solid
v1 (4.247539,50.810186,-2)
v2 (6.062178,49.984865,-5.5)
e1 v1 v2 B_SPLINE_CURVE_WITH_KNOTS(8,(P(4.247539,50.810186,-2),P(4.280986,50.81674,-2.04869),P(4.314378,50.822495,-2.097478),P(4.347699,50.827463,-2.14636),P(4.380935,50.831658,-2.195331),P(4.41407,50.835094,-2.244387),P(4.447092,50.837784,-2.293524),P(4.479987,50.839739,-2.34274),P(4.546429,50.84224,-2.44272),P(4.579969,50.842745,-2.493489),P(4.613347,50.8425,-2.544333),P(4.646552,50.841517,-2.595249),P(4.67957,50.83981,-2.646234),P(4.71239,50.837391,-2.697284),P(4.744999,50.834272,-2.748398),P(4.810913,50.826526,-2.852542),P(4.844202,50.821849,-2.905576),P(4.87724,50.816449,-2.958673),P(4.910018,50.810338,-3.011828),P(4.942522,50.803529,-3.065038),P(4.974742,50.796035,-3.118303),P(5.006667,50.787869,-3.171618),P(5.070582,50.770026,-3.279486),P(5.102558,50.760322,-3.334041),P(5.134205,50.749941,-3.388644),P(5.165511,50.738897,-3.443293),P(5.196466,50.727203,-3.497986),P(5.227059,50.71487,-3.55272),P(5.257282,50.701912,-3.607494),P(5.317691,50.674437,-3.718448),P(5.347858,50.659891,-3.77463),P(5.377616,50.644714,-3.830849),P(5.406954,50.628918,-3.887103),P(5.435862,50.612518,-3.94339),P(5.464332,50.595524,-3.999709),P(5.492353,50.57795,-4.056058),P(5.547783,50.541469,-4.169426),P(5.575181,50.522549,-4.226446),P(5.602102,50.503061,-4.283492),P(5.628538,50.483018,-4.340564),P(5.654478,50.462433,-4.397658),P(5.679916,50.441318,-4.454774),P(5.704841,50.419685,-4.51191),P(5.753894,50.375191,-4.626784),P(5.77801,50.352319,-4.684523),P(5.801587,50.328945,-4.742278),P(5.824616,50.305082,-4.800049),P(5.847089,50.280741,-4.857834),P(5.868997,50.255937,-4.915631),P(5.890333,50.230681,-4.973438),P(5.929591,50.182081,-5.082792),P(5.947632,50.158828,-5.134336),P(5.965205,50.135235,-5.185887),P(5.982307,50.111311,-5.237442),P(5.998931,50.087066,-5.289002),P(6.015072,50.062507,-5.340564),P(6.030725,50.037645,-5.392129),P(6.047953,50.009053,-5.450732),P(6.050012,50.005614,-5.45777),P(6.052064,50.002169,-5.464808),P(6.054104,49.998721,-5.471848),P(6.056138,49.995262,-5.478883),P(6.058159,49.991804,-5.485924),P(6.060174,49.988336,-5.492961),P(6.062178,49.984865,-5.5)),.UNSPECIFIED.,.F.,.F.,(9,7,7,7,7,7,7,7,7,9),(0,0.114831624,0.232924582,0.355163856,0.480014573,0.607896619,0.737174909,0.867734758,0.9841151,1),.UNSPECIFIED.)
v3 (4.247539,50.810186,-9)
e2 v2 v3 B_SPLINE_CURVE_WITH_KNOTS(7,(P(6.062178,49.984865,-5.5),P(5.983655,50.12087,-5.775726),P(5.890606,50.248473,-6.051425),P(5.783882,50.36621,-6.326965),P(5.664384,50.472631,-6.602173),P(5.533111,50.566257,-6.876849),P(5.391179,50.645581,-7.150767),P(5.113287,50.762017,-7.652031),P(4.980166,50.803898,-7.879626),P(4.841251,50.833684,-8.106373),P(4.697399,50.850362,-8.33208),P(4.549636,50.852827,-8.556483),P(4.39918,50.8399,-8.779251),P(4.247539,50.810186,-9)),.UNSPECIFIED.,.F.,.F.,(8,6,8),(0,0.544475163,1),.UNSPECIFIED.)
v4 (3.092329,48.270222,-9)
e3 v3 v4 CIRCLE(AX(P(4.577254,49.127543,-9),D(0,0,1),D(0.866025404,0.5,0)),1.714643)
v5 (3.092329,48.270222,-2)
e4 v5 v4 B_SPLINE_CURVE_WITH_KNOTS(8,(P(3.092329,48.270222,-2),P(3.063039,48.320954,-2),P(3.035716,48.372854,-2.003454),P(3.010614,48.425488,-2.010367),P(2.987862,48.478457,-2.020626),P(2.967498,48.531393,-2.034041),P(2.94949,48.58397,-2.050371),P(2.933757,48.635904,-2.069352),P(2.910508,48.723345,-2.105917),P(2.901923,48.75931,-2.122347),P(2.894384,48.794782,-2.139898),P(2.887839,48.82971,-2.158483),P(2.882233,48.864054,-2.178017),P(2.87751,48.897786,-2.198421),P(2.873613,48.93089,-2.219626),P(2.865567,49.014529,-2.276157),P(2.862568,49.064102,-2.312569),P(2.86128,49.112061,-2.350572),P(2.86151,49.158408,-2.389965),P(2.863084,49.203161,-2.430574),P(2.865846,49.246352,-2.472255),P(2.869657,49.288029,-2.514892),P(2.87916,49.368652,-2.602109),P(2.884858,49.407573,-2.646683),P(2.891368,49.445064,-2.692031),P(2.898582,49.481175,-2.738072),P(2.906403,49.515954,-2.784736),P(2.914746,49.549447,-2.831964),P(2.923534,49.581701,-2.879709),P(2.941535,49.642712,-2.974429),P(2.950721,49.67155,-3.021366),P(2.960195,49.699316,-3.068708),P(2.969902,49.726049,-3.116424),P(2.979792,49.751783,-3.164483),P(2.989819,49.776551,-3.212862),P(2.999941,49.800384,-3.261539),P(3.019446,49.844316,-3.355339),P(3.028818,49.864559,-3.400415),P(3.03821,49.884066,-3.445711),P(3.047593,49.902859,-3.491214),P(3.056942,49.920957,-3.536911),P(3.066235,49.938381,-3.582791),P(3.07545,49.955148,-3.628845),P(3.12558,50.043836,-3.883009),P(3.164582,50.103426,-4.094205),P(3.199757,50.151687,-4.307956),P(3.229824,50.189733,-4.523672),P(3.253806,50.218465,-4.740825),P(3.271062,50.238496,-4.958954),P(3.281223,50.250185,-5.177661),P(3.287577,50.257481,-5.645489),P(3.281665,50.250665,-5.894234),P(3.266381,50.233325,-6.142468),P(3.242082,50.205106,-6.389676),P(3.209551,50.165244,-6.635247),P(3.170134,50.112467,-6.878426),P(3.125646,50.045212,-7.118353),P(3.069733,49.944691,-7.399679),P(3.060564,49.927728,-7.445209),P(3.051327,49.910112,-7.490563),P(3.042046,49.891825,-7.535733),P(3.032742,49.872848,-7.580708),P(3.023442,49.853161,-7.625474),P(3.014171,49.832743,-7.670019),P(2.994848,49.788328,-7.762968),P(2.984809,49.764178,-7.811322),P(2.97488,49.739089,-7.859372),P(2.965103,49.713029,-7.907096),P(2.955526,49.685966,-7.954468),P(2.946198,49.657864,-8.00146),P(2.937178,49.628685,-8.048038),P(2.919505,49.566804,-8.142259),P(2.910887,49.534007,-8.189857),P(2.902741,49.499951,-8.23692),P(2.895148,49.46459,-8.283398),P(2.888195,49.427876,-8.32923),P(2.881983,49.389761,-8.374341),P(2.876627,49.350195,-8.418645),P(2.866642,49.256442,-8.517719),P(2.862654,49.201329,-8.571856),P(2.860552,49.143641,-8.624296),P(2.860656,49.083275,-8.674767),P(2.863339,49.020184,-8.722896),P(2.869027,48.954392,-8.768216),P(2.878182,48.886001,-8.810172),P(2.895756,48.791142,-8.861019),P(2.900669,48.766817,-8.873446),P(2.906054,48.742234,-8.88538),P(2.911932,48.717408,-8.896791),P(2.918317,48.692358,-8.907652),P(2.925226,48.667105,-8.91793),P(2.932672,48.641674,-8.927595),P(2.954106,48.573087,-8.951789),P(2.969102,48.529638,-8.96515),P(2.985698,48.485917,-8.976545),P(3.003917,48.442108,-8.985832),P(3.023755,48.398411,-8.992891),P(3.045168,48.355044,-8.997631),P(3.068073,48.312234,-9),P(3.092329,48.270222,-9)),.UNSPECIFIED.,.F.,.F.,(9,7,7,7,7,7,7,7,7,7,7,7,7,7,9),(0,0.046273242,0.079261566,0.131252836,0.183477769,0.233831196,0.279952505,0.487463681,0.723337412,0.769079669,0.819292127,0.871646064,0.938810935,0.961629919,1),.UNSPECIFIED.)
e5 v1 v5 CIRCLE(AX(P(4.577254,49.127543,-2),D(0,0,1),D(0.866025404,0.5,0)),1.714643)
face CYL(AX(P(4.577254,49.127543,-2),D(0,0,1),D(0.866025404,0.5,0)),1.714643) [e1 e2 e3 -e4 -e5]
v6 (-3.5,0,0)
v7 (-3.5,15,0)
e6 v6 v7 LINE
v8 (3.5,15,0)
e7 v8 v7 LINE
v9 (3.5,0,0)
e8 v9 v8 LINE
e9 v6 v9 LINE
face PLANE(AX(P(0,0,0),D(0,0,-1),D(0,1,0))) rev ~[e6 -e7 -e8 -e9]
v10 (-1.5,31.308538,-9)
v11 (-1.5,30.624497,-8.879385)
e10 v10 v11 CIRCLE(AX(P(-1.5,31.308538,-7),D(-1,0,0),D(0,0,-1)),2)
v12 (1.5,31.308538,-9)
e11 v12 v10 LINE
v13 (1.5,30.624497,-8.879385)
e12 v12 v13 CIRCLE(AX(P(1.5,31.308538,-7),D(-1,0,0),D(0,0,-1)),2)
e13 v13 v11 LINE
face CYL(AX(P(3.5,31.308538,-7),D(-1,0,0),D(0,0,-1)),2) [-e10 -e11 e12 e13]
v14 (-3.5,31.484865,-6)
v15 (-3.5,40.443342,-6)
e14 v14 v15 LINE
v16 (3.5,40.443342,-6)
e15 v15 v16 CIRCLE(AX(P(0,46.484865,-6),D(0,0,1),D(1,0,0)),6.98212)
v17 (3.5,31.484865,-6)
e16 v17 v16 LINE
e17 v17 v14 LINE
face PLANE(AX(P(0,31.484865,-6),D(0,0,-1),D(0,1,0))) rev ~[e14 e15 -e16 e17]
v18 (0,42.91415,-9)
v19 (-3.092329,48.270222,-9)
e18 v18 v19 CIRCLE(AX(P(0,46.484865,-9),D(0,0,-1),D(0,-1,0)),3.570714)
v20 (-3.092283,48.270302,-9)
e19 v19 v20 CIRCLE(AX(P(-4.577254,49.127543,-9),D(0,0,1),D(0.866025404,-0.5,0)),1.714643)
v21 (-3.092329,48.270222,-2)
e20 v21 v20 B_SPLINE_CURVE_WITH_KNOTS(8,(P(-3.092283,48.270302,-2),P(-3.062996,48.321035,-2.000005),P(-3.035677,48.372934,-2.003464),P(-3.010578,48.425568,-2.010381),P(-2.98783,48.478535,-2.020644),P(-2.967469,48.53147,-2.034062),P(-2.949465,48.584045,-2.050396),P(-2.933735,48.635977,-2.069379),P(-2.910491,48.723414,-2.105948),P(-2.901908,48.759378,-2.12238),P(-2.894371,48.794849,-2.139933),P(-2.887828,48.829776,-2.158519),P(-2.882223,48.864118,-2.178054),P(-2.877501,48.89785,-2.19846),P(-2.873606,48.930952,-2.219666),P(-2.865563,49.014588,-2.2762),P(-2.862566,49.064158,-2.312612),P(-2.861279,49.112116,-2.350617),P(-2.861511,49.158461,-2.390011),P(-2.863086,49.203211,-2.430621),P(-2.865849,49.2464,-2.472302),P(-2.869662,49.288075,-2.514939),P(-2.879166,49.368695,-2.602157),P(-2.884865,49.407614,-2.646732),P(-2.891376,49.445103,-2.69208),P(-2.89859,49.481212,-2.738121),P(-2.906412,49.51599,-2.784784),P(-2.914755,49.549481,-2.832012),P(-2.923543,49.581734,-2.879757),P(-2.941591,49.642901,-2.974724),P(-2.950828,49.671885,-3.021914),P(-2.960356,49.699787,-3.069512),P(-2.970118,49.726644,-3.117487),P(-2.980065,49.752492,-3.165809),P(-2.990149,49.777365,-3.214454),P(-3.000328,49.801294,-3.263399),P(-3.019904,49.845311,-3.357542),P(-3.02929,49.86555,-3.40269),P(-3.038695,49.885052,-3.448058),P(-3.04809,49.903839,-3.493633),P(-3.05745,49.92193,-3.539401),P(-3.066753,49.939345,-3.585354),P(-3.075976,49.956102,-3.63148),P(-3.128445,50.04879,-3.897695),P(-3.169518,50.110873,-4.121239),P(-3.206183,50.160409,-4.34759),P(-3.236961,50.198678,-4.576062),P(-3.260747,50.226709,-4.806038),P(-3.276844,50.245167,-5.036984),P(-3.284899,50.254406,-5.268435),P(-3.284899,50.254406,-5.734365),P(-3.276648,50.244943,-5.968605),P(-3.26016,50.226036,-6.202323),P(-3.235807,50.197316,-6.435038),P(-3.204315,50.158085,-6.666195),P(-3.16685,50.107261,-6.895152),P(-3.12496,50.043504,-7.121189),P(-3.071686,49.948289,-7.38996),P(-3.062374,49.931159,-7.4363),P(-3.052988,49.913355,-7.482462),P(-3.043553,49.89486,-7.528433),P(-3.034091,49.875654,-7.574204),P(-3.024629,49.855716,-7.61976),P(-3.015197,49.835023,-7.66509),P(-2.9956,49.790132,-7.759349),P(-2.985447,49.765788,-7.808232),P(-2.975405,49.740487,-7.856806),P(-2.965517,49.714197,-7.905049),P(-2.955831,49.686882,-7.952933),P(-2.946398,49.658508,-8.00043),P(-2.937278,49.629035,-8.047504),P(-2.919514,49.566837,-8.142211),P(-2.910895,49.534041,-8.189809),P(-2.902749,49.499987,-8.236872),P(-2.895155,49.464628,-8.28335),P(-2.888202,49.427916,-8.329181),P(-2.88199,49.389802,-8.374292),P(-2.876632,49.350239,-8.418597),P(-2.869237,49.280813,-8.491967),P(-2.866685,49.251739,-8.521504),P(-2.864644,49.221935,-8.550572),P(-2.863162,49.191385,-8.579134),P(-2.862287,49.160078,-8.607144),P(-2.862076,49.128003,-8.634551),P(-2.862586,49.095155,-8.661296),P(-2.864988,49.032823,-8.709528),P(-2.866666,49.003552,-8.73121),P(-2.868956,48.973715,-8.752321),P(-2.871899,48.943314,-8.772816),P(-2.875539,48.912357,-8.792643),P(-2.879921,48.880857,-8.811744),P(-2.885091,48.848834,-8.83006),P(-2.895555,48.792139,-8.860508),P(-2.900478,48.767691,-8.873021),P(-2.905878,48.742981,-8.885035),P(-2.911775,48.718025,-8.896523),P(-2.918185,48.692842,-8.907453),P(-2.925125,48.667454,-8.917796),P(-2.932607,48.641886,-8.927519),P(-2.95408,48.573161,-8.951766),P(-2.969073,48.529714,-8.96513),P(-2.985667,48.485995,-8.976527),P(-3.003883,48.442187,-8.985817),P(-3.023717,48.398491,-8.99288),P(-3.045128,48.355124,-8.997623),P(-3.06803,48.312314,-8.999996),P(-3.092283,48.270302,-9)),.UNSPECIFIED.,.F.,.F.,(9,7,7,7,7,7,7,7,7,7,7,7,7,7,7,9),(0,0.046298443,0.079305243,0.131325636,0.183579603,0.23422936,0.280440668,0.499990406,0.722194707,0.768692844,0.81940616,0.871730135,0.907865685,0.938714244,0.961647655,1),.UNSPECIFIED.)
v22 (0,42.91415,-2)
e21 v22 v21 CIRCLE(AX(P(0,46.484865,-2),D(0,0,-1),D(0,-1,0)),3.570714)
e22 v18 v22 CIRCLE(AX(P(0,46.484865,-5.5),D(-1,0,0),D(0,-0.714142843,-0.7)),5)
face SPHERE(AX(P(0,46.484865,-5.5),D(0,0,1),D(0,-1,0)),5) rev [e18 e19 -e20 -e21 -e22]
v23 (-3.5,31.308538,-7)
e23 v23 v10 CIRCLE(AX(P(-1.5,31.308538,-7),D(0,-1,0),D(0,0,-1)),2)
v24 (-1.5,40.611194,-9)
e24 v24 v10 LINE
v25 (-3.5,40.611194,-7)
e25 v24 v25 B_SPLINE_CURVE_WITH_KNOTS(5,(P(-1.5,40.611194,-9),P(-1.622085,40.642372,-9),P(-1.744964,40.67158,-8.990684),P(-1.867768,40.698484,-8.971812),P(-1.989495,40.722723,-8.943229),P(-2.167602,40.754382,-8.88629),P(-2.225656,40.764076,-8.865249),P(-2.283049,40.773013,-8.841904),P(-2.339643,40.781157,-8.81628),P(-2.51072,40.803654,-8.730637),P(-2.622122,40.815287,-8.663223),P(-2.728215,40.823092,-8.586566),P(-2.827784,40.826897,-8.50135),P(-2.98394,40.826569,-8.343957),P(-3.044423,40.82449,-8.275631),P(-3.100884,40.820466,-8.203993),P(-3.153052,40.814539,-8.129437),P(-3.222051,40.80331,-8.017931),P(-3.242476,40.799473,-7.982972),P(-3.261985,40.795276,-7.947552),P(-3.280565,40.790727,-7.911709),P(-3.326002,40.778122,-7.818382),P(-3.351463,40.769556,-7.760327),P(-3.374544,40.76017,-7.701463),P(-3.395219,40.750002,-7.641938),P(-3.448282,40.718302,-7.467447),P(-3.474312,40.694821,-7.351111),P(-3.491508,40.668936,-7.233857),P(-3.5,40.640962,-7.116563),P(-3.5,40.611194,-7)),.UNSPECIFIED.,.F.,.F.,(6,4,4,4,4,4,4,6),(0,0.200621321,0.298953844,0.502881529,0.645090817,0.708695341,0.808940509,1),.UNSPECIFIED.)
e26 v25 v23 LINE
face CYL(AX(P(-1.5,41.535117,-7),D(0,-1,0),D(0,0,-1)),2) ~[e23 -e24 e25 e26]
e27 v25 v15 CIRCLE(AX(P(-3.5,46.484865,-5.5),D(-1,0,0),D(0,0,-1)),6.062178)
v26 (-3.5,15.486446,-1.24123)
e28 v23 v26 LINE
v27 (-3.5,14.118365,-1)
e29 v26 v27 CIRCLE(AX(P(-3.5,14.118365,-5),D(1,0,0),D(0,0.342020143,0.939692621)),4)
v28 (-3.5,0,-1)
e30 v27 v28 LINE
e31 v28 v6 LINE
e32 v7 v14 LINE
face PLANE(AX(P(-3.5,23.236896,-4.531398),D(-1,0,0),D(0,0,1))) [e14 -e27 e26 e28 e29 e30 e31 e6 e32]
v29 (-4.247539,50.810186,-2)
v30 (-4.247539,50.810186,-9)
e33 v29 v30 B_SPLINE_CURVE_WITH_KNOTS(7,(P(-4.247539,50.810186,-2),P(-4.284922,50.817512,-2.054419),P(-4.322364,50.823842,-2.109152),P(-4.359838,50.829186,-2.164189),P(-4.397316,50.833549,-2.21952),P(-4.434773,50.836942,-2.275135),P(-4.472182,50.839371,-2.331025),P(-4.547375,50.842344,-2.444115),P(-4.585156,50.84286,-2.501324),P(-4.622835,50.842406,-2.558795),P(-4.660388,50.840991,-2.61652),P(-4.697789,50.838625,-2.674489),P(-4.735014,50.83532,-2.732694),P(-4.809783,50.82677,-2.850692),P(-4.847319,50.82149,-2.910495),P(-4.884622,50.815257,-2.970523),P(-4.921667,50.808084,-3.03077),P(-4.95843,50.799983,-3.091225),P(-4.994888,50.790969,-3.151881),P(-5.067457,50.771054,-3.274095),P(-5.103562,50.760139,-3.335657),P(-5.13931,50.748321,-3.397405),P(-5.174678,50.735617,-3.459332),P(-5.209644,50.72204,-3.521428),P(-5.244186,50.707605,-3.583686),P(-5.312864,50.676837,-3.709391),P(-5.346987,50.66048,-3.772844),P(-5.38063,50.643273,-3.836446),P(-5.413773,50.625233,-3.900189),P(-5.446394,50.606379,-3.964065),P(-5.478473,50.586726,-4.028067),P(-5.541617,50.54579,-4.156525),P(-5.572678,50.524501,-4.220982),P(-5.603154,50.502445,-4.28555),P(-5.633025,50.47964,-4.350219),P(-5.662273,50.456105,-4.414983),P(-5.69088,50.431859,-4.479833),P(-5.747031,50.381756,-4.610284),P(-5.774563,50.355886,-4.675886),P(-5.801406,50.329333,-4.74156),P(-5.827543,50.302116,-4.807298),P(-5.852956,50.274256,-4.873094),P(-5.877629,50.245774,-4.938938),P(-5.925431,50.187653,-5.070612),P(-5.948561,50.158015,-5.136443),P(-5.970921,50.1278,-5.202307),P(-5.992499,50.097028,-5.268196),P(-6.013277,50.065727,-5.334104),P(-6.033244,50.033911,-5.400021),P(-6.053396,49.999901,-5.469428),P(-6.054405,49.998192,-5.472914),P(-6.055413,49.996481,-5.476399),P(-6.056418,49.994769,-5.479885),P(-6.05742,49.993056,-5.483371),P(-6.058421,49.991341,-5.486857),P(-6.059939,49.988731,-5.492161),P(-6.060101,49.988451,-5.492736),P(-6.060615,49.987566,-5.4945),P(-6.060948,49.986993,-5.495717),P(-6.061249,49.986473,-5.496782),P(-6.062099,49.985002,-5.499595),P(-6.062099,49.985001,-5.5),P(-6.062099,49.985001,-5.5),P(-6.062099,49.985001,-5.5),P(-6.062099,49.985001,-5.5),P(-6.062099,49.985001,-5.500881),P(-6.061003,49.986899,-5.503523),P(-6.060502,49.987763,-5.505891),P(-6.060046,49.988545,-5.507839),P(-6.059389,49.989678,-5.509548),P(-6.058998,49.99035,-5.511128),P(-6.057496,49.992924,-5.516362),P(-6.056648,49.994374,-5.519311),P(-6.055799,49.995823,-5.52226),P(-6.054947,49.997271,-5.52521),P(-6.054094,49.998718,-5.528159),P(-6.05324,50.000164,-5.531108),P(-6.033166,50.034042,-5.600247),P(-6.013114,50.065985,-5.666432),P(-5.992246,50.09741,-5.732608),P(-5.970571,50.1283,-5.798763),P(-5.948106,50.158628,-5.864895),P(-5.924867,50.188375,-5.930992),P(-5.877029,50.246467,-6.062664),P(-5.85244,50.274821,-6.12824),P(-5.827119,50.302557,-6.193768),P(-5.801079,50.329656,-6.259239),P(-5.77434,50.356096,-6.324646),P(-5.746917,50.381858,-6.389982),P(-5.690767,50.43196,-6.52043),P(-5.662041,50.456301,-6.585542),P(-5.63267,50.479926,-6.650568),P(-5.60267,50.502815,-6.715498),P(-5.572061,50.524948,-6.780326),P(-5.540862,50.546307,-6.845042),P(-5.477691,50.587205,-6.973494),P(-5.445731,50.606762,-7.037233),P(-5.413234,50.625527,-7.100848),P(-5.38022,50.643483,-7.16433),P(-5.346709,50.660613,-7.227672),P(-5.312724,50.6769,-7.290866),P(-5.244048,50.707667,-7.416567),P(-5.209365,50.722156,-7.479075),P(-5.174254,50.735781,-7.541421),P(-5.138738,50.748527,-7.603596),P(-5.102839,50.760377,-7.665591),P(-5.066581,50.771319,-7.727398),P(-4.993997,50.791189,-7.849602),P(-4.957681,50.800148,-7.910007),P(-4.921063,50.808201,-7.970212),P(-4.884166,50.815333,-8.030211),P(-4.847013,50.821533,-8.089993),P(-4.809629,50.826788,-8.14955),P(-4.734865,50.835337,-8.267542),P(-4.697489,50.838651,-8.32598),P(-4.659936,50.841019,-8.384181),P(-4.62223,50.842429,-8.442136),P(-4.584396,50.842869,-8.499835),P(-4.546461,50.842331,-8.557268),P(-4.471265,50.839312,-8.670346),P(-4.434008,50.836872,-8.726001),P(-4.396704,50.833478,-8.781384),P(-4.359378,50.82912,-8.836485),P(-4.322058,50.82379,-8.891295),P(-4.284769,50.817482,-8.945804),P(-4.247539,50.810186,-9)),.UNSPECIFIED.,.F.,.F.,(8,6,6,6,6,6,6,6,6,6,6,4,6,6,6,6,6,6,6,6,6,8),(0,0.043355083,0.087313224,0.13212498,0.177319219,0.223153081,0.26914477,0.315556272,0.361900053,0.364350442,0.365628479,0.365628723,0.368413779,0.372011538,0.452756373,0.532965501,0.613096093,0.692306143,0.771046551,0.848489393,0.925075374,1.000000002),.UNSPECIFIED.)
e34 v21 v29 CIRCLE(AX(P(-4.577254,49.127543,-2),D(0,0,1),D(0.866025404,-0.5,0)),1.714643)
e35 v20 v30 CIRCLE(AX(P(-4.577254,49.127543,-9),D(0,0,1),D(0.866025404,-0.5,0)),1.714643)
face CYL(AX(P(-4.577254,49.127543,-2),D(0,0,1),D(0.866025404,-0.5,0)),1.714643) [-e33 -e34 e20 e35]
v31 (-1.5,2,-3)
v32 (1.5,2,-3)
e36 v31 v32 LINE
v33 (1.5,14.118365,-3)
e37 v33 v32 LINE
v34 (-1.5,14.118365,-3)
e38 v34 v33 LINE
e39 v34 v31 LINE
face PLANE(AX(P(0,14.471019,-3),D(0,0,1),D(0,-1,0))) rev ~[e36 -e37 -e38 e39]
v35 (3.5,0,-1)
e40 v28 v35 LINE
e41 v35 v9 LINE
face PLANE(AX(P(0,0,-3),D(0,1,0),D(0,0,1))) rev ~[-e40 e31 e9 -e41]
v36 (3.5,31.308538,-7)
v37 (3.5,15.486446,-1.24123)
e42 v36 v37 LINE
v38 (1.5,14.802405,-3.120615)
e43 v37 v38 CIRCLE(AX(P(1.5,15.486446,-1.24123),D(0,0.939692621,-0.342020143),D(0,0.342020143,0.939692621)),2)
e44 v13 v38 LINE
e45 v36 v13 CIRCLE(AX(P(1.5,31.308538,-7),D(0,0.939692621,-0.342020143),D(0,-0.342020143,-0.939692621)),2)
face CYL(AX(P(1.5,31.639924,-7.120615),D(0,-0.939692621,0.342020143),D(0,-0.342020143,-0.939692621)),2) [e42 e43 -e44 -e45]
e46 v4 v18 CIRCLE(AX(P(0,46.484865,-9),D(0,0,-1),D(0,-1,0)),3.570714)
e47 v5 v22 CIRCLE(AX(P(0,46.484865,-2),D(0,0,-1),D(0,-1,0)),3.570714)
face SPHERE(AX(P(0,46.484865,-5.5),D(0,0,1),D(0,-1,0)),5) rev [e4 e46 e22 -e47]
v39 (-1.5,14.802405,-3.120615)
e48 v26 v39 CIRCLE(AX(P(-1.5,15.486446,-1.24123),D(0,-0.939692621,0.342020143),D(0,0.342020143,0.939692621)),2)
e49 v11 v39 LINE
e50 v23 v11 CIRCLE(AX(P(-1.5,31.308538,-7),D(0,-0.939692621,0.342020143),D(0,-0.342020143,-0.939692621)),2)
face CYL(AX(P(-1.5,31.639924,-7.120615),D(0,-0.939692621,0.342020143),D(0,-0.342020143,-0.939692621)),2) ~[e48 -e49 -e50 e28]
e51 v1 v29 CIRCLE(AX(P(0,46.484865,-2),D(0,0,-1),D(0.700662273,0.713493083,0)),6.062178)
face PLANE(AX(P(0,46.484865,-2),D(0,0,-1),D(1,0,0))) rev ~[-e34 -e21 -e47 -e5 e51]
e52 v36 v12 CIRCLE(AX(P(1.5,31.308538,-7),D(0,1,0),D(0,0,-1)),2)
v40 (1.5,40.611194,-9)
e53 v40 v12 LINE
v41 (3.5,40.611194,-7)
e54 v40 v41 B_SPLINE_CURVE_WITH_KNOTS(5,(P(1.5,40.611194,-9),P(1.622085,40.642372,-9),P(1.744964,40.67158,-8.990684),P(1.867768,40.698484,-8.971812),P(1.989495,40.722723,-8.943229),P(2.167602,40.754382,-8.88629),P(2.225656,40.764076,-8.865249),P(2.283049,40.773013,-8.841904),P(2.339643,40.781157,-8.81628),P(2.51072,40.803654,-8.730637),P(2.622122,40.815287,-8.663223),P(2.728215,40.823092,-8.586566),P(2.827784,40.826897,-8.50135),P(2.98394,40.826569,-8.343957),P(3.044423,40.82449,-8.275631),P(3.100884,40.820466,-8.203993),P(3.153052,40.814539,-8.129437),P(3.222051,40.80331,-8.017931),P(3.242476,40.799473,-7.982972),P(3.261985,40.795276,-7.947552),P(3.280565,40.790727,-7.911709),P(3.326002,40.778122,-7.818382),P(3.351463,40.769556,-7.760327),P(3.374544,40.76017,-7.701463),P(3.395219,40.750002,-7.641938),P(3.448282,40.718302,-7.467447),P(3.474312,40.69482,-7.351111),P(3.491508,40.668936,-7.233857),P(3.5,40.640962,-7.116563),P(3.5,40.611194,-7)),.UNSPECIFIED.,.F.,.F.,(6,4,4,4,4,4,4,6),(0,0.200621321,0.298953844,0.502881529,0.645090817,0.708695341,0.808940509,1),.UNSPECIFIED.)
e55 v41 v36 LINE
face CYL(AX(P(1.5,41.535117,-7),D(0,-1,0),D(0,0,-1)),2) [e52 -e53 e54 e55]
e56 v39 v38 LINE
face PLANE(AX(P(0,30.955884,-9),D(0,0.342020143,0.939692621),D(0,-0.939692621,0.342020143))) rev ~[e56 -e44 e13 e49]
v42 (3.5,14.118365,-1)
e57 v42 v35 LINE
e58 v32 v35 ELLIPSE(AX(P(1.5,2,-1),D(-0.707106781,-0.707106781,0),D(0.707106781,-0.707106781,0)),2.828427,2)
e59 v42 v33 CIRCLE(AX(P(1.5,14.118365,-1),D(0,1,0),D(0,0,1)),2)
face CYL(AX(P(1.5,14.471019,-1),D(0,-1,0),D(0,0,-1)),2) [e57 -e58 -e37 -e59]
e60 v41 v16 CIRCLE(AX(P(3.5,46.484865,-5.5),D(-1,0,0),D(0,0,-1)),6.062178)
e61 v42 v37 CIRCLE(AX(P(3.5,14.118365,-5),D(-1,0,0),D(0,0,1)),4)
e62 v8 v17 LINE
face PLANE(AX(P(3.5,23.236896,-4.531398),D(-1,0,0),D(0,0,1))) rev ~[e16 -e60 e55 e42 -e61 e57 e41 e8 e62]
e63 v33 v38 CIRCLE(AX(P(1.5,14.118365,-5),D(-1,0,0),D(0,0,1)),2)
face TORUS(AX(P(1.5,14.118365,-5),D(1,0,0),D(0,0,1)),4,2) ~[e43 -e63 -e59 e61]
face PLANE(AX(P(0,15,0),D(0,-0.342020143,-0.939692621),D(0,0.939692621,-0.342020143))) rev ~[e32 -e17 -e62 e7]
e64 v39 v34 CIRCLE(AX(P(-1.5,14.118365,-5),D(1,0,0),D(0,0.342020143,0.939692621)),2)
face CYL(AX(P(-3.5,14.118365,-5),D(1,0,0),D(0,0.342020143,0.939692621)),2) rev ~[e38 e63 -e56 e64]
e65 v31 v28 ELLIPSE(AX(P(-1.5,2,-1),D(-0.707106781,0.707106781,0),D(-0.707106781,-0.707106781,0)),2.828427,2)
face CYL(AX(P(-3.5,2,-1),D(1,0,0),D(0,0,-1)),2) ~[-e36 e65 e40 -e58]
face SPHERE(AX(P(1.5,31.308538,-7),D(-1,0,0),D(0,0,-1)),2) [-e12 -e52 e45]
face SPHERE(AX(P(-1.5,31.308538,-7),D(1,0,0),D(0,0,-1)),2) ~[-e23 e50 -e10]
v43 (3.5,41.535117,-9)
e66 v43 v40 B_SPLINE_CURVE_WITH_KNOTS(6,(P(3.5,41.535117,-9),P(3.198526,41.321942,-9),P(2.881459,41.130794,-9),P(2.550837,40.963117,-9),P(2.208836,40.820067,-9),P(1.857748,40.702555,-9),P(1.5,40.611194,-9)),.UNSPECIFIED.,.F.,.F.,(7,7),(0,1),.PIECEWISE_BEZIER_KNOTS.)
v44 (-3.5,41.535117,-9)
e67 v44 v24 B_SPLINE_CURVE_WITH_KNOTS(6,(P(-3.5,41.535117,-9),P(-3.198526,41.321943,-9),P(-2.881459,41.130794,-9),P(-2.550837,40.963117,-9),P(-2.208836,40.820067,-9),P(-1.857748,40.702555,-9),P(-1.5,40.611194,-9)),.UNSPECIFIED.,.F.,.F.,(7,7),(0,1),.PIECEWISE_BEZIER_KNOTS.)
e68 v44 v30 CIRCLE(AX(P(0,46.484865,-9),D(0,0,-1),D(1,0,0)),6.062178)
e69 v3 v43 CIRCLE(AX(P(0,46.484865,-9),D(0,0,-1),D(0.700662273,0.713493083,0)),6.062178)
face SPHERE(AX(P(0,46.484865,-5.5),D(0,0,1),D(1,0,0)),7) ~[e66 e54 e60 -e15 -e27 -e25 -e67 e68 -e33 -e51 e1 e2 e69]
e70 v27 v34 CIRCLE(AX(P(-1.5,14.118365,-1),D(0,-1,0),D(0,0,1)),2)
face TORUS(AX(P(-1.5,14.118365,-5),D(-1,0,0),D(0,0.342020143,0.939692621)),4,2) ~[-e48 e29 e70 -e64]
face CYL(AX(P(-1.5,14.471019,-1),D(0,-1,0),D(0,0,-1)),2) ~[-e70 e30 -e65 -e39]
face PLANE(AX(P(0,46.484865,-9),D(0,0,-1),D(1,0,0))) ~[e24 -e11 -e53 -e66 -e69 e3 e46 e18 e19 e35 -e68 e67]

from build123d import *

# Parameters (mm, degrees)
BOSS_EXTRUDE1_DEPTH = 3.5
CUT_EXTRUDE1_DEPTH  = 55.39329676
FILLET10_R          = 2


with BuildPart() as part:
    # Sketch1 → Boss-Extrude1 (new, symmetric)
    with BuildSketch(Plane(origin=(0, 0, 0), x_dir=(0, 0, -1), z_dir=(1, 0, 0))):
        Polygon((0, 0), (0, 15), (6, 31.484864517), (6, 46.484864517), (9, 46.484864517), (9, 30.955883575), (3, 14.471019058), (3, 0), align=None)
    extrude(amount=BOSS_EXTRUDE1_DEPTH, both=True)

    # Sketch2 → Revolve1 (revolve)
    with BuildSketch(Plane(origin=(0, 46.484864517, 0), x_dir=(1, 0, 0), z_dir=(0, 1, 0))):
        with BuildLine():
            Line((0, 2), (0, 9))
            Line((0, 9), (6.062177826, 9))
            ThreePointArc((6.062177826, 9), (7, 5.5), (6.062177826, 2))
            Line((6.062177826, 2), (0, 2))
        make_face()
    revolve(axis=Axis((0, 46.484864517, -2), (0, 0, -1)))

    # Sketch3 → Cut-Revolve1 (revolve, cut)
    with BuildSketch(Plane(origin=(0, 0, 0), x_dir=(0, 0, -1), z_dir=(1, 0, 0))):
        with BuildLine():
            Line((2, 46.484864517), (9, 46.484864517))
            Line((9, 46.484864517), (9, 42.914150302))
            ThreePointArc((9, 42.914150302), (5.5, 41.484864517), (2, 42.914150302))
            Line((2, 42.914150302), (2, 46.484864517))
        make_face()
    revolve(axis=Axis((0, 46.484864517, -2), (0, 0, -1)), mode=Mode.SUBTRACT)

    # Sketch4 → Cut-Extrude1 (cut, through all)
    with BuildSketch(Plane.XY.offset(-2)):
        with BuildLine():
            ThreePointArc((-3.092329219, 48.270221624), (-3.719932076, 50.612467374), (-6.062177826, 49.984864517))
            ThreePointArc((-6.062177826, 49.984864517), (0, 53.484864517), (6.062177826, 49.984864517))
            ThreePointArc((6.062177826, 49.984864517), (3.719932076, 50.612467374), (3.092329219, 48.270221624))
            ThreePointArc((3.092329219, 48.270221624), (0, 50.055578731), (-3.092329219, 48.270221624))
        make_face()
    extrude(amount=-CUT_EXTRUDE1_DEPTH, mode=Mode.SUBTRACT)

    # Fillet10
    fillet10_edges = [part.edges().sort_by_distance(p)[0] for p in [
        (-3.5, 36.245500312, -9),
        (-3.5, 22.713451316, -6),
        (-3.5, 7.235509529, -3),
        (3.5, 22.713451316, -6),
        (0, 30.955883575, -9),
        (0, 14.471019058, -3),
        (0, 0, -3),
        (3.5, 36.245500312, -9),
        (3.5, 7.235509529, -3),
    ]]
    fillet(fillet10_edges, radius=FILLET10_R)


solid = part.part
